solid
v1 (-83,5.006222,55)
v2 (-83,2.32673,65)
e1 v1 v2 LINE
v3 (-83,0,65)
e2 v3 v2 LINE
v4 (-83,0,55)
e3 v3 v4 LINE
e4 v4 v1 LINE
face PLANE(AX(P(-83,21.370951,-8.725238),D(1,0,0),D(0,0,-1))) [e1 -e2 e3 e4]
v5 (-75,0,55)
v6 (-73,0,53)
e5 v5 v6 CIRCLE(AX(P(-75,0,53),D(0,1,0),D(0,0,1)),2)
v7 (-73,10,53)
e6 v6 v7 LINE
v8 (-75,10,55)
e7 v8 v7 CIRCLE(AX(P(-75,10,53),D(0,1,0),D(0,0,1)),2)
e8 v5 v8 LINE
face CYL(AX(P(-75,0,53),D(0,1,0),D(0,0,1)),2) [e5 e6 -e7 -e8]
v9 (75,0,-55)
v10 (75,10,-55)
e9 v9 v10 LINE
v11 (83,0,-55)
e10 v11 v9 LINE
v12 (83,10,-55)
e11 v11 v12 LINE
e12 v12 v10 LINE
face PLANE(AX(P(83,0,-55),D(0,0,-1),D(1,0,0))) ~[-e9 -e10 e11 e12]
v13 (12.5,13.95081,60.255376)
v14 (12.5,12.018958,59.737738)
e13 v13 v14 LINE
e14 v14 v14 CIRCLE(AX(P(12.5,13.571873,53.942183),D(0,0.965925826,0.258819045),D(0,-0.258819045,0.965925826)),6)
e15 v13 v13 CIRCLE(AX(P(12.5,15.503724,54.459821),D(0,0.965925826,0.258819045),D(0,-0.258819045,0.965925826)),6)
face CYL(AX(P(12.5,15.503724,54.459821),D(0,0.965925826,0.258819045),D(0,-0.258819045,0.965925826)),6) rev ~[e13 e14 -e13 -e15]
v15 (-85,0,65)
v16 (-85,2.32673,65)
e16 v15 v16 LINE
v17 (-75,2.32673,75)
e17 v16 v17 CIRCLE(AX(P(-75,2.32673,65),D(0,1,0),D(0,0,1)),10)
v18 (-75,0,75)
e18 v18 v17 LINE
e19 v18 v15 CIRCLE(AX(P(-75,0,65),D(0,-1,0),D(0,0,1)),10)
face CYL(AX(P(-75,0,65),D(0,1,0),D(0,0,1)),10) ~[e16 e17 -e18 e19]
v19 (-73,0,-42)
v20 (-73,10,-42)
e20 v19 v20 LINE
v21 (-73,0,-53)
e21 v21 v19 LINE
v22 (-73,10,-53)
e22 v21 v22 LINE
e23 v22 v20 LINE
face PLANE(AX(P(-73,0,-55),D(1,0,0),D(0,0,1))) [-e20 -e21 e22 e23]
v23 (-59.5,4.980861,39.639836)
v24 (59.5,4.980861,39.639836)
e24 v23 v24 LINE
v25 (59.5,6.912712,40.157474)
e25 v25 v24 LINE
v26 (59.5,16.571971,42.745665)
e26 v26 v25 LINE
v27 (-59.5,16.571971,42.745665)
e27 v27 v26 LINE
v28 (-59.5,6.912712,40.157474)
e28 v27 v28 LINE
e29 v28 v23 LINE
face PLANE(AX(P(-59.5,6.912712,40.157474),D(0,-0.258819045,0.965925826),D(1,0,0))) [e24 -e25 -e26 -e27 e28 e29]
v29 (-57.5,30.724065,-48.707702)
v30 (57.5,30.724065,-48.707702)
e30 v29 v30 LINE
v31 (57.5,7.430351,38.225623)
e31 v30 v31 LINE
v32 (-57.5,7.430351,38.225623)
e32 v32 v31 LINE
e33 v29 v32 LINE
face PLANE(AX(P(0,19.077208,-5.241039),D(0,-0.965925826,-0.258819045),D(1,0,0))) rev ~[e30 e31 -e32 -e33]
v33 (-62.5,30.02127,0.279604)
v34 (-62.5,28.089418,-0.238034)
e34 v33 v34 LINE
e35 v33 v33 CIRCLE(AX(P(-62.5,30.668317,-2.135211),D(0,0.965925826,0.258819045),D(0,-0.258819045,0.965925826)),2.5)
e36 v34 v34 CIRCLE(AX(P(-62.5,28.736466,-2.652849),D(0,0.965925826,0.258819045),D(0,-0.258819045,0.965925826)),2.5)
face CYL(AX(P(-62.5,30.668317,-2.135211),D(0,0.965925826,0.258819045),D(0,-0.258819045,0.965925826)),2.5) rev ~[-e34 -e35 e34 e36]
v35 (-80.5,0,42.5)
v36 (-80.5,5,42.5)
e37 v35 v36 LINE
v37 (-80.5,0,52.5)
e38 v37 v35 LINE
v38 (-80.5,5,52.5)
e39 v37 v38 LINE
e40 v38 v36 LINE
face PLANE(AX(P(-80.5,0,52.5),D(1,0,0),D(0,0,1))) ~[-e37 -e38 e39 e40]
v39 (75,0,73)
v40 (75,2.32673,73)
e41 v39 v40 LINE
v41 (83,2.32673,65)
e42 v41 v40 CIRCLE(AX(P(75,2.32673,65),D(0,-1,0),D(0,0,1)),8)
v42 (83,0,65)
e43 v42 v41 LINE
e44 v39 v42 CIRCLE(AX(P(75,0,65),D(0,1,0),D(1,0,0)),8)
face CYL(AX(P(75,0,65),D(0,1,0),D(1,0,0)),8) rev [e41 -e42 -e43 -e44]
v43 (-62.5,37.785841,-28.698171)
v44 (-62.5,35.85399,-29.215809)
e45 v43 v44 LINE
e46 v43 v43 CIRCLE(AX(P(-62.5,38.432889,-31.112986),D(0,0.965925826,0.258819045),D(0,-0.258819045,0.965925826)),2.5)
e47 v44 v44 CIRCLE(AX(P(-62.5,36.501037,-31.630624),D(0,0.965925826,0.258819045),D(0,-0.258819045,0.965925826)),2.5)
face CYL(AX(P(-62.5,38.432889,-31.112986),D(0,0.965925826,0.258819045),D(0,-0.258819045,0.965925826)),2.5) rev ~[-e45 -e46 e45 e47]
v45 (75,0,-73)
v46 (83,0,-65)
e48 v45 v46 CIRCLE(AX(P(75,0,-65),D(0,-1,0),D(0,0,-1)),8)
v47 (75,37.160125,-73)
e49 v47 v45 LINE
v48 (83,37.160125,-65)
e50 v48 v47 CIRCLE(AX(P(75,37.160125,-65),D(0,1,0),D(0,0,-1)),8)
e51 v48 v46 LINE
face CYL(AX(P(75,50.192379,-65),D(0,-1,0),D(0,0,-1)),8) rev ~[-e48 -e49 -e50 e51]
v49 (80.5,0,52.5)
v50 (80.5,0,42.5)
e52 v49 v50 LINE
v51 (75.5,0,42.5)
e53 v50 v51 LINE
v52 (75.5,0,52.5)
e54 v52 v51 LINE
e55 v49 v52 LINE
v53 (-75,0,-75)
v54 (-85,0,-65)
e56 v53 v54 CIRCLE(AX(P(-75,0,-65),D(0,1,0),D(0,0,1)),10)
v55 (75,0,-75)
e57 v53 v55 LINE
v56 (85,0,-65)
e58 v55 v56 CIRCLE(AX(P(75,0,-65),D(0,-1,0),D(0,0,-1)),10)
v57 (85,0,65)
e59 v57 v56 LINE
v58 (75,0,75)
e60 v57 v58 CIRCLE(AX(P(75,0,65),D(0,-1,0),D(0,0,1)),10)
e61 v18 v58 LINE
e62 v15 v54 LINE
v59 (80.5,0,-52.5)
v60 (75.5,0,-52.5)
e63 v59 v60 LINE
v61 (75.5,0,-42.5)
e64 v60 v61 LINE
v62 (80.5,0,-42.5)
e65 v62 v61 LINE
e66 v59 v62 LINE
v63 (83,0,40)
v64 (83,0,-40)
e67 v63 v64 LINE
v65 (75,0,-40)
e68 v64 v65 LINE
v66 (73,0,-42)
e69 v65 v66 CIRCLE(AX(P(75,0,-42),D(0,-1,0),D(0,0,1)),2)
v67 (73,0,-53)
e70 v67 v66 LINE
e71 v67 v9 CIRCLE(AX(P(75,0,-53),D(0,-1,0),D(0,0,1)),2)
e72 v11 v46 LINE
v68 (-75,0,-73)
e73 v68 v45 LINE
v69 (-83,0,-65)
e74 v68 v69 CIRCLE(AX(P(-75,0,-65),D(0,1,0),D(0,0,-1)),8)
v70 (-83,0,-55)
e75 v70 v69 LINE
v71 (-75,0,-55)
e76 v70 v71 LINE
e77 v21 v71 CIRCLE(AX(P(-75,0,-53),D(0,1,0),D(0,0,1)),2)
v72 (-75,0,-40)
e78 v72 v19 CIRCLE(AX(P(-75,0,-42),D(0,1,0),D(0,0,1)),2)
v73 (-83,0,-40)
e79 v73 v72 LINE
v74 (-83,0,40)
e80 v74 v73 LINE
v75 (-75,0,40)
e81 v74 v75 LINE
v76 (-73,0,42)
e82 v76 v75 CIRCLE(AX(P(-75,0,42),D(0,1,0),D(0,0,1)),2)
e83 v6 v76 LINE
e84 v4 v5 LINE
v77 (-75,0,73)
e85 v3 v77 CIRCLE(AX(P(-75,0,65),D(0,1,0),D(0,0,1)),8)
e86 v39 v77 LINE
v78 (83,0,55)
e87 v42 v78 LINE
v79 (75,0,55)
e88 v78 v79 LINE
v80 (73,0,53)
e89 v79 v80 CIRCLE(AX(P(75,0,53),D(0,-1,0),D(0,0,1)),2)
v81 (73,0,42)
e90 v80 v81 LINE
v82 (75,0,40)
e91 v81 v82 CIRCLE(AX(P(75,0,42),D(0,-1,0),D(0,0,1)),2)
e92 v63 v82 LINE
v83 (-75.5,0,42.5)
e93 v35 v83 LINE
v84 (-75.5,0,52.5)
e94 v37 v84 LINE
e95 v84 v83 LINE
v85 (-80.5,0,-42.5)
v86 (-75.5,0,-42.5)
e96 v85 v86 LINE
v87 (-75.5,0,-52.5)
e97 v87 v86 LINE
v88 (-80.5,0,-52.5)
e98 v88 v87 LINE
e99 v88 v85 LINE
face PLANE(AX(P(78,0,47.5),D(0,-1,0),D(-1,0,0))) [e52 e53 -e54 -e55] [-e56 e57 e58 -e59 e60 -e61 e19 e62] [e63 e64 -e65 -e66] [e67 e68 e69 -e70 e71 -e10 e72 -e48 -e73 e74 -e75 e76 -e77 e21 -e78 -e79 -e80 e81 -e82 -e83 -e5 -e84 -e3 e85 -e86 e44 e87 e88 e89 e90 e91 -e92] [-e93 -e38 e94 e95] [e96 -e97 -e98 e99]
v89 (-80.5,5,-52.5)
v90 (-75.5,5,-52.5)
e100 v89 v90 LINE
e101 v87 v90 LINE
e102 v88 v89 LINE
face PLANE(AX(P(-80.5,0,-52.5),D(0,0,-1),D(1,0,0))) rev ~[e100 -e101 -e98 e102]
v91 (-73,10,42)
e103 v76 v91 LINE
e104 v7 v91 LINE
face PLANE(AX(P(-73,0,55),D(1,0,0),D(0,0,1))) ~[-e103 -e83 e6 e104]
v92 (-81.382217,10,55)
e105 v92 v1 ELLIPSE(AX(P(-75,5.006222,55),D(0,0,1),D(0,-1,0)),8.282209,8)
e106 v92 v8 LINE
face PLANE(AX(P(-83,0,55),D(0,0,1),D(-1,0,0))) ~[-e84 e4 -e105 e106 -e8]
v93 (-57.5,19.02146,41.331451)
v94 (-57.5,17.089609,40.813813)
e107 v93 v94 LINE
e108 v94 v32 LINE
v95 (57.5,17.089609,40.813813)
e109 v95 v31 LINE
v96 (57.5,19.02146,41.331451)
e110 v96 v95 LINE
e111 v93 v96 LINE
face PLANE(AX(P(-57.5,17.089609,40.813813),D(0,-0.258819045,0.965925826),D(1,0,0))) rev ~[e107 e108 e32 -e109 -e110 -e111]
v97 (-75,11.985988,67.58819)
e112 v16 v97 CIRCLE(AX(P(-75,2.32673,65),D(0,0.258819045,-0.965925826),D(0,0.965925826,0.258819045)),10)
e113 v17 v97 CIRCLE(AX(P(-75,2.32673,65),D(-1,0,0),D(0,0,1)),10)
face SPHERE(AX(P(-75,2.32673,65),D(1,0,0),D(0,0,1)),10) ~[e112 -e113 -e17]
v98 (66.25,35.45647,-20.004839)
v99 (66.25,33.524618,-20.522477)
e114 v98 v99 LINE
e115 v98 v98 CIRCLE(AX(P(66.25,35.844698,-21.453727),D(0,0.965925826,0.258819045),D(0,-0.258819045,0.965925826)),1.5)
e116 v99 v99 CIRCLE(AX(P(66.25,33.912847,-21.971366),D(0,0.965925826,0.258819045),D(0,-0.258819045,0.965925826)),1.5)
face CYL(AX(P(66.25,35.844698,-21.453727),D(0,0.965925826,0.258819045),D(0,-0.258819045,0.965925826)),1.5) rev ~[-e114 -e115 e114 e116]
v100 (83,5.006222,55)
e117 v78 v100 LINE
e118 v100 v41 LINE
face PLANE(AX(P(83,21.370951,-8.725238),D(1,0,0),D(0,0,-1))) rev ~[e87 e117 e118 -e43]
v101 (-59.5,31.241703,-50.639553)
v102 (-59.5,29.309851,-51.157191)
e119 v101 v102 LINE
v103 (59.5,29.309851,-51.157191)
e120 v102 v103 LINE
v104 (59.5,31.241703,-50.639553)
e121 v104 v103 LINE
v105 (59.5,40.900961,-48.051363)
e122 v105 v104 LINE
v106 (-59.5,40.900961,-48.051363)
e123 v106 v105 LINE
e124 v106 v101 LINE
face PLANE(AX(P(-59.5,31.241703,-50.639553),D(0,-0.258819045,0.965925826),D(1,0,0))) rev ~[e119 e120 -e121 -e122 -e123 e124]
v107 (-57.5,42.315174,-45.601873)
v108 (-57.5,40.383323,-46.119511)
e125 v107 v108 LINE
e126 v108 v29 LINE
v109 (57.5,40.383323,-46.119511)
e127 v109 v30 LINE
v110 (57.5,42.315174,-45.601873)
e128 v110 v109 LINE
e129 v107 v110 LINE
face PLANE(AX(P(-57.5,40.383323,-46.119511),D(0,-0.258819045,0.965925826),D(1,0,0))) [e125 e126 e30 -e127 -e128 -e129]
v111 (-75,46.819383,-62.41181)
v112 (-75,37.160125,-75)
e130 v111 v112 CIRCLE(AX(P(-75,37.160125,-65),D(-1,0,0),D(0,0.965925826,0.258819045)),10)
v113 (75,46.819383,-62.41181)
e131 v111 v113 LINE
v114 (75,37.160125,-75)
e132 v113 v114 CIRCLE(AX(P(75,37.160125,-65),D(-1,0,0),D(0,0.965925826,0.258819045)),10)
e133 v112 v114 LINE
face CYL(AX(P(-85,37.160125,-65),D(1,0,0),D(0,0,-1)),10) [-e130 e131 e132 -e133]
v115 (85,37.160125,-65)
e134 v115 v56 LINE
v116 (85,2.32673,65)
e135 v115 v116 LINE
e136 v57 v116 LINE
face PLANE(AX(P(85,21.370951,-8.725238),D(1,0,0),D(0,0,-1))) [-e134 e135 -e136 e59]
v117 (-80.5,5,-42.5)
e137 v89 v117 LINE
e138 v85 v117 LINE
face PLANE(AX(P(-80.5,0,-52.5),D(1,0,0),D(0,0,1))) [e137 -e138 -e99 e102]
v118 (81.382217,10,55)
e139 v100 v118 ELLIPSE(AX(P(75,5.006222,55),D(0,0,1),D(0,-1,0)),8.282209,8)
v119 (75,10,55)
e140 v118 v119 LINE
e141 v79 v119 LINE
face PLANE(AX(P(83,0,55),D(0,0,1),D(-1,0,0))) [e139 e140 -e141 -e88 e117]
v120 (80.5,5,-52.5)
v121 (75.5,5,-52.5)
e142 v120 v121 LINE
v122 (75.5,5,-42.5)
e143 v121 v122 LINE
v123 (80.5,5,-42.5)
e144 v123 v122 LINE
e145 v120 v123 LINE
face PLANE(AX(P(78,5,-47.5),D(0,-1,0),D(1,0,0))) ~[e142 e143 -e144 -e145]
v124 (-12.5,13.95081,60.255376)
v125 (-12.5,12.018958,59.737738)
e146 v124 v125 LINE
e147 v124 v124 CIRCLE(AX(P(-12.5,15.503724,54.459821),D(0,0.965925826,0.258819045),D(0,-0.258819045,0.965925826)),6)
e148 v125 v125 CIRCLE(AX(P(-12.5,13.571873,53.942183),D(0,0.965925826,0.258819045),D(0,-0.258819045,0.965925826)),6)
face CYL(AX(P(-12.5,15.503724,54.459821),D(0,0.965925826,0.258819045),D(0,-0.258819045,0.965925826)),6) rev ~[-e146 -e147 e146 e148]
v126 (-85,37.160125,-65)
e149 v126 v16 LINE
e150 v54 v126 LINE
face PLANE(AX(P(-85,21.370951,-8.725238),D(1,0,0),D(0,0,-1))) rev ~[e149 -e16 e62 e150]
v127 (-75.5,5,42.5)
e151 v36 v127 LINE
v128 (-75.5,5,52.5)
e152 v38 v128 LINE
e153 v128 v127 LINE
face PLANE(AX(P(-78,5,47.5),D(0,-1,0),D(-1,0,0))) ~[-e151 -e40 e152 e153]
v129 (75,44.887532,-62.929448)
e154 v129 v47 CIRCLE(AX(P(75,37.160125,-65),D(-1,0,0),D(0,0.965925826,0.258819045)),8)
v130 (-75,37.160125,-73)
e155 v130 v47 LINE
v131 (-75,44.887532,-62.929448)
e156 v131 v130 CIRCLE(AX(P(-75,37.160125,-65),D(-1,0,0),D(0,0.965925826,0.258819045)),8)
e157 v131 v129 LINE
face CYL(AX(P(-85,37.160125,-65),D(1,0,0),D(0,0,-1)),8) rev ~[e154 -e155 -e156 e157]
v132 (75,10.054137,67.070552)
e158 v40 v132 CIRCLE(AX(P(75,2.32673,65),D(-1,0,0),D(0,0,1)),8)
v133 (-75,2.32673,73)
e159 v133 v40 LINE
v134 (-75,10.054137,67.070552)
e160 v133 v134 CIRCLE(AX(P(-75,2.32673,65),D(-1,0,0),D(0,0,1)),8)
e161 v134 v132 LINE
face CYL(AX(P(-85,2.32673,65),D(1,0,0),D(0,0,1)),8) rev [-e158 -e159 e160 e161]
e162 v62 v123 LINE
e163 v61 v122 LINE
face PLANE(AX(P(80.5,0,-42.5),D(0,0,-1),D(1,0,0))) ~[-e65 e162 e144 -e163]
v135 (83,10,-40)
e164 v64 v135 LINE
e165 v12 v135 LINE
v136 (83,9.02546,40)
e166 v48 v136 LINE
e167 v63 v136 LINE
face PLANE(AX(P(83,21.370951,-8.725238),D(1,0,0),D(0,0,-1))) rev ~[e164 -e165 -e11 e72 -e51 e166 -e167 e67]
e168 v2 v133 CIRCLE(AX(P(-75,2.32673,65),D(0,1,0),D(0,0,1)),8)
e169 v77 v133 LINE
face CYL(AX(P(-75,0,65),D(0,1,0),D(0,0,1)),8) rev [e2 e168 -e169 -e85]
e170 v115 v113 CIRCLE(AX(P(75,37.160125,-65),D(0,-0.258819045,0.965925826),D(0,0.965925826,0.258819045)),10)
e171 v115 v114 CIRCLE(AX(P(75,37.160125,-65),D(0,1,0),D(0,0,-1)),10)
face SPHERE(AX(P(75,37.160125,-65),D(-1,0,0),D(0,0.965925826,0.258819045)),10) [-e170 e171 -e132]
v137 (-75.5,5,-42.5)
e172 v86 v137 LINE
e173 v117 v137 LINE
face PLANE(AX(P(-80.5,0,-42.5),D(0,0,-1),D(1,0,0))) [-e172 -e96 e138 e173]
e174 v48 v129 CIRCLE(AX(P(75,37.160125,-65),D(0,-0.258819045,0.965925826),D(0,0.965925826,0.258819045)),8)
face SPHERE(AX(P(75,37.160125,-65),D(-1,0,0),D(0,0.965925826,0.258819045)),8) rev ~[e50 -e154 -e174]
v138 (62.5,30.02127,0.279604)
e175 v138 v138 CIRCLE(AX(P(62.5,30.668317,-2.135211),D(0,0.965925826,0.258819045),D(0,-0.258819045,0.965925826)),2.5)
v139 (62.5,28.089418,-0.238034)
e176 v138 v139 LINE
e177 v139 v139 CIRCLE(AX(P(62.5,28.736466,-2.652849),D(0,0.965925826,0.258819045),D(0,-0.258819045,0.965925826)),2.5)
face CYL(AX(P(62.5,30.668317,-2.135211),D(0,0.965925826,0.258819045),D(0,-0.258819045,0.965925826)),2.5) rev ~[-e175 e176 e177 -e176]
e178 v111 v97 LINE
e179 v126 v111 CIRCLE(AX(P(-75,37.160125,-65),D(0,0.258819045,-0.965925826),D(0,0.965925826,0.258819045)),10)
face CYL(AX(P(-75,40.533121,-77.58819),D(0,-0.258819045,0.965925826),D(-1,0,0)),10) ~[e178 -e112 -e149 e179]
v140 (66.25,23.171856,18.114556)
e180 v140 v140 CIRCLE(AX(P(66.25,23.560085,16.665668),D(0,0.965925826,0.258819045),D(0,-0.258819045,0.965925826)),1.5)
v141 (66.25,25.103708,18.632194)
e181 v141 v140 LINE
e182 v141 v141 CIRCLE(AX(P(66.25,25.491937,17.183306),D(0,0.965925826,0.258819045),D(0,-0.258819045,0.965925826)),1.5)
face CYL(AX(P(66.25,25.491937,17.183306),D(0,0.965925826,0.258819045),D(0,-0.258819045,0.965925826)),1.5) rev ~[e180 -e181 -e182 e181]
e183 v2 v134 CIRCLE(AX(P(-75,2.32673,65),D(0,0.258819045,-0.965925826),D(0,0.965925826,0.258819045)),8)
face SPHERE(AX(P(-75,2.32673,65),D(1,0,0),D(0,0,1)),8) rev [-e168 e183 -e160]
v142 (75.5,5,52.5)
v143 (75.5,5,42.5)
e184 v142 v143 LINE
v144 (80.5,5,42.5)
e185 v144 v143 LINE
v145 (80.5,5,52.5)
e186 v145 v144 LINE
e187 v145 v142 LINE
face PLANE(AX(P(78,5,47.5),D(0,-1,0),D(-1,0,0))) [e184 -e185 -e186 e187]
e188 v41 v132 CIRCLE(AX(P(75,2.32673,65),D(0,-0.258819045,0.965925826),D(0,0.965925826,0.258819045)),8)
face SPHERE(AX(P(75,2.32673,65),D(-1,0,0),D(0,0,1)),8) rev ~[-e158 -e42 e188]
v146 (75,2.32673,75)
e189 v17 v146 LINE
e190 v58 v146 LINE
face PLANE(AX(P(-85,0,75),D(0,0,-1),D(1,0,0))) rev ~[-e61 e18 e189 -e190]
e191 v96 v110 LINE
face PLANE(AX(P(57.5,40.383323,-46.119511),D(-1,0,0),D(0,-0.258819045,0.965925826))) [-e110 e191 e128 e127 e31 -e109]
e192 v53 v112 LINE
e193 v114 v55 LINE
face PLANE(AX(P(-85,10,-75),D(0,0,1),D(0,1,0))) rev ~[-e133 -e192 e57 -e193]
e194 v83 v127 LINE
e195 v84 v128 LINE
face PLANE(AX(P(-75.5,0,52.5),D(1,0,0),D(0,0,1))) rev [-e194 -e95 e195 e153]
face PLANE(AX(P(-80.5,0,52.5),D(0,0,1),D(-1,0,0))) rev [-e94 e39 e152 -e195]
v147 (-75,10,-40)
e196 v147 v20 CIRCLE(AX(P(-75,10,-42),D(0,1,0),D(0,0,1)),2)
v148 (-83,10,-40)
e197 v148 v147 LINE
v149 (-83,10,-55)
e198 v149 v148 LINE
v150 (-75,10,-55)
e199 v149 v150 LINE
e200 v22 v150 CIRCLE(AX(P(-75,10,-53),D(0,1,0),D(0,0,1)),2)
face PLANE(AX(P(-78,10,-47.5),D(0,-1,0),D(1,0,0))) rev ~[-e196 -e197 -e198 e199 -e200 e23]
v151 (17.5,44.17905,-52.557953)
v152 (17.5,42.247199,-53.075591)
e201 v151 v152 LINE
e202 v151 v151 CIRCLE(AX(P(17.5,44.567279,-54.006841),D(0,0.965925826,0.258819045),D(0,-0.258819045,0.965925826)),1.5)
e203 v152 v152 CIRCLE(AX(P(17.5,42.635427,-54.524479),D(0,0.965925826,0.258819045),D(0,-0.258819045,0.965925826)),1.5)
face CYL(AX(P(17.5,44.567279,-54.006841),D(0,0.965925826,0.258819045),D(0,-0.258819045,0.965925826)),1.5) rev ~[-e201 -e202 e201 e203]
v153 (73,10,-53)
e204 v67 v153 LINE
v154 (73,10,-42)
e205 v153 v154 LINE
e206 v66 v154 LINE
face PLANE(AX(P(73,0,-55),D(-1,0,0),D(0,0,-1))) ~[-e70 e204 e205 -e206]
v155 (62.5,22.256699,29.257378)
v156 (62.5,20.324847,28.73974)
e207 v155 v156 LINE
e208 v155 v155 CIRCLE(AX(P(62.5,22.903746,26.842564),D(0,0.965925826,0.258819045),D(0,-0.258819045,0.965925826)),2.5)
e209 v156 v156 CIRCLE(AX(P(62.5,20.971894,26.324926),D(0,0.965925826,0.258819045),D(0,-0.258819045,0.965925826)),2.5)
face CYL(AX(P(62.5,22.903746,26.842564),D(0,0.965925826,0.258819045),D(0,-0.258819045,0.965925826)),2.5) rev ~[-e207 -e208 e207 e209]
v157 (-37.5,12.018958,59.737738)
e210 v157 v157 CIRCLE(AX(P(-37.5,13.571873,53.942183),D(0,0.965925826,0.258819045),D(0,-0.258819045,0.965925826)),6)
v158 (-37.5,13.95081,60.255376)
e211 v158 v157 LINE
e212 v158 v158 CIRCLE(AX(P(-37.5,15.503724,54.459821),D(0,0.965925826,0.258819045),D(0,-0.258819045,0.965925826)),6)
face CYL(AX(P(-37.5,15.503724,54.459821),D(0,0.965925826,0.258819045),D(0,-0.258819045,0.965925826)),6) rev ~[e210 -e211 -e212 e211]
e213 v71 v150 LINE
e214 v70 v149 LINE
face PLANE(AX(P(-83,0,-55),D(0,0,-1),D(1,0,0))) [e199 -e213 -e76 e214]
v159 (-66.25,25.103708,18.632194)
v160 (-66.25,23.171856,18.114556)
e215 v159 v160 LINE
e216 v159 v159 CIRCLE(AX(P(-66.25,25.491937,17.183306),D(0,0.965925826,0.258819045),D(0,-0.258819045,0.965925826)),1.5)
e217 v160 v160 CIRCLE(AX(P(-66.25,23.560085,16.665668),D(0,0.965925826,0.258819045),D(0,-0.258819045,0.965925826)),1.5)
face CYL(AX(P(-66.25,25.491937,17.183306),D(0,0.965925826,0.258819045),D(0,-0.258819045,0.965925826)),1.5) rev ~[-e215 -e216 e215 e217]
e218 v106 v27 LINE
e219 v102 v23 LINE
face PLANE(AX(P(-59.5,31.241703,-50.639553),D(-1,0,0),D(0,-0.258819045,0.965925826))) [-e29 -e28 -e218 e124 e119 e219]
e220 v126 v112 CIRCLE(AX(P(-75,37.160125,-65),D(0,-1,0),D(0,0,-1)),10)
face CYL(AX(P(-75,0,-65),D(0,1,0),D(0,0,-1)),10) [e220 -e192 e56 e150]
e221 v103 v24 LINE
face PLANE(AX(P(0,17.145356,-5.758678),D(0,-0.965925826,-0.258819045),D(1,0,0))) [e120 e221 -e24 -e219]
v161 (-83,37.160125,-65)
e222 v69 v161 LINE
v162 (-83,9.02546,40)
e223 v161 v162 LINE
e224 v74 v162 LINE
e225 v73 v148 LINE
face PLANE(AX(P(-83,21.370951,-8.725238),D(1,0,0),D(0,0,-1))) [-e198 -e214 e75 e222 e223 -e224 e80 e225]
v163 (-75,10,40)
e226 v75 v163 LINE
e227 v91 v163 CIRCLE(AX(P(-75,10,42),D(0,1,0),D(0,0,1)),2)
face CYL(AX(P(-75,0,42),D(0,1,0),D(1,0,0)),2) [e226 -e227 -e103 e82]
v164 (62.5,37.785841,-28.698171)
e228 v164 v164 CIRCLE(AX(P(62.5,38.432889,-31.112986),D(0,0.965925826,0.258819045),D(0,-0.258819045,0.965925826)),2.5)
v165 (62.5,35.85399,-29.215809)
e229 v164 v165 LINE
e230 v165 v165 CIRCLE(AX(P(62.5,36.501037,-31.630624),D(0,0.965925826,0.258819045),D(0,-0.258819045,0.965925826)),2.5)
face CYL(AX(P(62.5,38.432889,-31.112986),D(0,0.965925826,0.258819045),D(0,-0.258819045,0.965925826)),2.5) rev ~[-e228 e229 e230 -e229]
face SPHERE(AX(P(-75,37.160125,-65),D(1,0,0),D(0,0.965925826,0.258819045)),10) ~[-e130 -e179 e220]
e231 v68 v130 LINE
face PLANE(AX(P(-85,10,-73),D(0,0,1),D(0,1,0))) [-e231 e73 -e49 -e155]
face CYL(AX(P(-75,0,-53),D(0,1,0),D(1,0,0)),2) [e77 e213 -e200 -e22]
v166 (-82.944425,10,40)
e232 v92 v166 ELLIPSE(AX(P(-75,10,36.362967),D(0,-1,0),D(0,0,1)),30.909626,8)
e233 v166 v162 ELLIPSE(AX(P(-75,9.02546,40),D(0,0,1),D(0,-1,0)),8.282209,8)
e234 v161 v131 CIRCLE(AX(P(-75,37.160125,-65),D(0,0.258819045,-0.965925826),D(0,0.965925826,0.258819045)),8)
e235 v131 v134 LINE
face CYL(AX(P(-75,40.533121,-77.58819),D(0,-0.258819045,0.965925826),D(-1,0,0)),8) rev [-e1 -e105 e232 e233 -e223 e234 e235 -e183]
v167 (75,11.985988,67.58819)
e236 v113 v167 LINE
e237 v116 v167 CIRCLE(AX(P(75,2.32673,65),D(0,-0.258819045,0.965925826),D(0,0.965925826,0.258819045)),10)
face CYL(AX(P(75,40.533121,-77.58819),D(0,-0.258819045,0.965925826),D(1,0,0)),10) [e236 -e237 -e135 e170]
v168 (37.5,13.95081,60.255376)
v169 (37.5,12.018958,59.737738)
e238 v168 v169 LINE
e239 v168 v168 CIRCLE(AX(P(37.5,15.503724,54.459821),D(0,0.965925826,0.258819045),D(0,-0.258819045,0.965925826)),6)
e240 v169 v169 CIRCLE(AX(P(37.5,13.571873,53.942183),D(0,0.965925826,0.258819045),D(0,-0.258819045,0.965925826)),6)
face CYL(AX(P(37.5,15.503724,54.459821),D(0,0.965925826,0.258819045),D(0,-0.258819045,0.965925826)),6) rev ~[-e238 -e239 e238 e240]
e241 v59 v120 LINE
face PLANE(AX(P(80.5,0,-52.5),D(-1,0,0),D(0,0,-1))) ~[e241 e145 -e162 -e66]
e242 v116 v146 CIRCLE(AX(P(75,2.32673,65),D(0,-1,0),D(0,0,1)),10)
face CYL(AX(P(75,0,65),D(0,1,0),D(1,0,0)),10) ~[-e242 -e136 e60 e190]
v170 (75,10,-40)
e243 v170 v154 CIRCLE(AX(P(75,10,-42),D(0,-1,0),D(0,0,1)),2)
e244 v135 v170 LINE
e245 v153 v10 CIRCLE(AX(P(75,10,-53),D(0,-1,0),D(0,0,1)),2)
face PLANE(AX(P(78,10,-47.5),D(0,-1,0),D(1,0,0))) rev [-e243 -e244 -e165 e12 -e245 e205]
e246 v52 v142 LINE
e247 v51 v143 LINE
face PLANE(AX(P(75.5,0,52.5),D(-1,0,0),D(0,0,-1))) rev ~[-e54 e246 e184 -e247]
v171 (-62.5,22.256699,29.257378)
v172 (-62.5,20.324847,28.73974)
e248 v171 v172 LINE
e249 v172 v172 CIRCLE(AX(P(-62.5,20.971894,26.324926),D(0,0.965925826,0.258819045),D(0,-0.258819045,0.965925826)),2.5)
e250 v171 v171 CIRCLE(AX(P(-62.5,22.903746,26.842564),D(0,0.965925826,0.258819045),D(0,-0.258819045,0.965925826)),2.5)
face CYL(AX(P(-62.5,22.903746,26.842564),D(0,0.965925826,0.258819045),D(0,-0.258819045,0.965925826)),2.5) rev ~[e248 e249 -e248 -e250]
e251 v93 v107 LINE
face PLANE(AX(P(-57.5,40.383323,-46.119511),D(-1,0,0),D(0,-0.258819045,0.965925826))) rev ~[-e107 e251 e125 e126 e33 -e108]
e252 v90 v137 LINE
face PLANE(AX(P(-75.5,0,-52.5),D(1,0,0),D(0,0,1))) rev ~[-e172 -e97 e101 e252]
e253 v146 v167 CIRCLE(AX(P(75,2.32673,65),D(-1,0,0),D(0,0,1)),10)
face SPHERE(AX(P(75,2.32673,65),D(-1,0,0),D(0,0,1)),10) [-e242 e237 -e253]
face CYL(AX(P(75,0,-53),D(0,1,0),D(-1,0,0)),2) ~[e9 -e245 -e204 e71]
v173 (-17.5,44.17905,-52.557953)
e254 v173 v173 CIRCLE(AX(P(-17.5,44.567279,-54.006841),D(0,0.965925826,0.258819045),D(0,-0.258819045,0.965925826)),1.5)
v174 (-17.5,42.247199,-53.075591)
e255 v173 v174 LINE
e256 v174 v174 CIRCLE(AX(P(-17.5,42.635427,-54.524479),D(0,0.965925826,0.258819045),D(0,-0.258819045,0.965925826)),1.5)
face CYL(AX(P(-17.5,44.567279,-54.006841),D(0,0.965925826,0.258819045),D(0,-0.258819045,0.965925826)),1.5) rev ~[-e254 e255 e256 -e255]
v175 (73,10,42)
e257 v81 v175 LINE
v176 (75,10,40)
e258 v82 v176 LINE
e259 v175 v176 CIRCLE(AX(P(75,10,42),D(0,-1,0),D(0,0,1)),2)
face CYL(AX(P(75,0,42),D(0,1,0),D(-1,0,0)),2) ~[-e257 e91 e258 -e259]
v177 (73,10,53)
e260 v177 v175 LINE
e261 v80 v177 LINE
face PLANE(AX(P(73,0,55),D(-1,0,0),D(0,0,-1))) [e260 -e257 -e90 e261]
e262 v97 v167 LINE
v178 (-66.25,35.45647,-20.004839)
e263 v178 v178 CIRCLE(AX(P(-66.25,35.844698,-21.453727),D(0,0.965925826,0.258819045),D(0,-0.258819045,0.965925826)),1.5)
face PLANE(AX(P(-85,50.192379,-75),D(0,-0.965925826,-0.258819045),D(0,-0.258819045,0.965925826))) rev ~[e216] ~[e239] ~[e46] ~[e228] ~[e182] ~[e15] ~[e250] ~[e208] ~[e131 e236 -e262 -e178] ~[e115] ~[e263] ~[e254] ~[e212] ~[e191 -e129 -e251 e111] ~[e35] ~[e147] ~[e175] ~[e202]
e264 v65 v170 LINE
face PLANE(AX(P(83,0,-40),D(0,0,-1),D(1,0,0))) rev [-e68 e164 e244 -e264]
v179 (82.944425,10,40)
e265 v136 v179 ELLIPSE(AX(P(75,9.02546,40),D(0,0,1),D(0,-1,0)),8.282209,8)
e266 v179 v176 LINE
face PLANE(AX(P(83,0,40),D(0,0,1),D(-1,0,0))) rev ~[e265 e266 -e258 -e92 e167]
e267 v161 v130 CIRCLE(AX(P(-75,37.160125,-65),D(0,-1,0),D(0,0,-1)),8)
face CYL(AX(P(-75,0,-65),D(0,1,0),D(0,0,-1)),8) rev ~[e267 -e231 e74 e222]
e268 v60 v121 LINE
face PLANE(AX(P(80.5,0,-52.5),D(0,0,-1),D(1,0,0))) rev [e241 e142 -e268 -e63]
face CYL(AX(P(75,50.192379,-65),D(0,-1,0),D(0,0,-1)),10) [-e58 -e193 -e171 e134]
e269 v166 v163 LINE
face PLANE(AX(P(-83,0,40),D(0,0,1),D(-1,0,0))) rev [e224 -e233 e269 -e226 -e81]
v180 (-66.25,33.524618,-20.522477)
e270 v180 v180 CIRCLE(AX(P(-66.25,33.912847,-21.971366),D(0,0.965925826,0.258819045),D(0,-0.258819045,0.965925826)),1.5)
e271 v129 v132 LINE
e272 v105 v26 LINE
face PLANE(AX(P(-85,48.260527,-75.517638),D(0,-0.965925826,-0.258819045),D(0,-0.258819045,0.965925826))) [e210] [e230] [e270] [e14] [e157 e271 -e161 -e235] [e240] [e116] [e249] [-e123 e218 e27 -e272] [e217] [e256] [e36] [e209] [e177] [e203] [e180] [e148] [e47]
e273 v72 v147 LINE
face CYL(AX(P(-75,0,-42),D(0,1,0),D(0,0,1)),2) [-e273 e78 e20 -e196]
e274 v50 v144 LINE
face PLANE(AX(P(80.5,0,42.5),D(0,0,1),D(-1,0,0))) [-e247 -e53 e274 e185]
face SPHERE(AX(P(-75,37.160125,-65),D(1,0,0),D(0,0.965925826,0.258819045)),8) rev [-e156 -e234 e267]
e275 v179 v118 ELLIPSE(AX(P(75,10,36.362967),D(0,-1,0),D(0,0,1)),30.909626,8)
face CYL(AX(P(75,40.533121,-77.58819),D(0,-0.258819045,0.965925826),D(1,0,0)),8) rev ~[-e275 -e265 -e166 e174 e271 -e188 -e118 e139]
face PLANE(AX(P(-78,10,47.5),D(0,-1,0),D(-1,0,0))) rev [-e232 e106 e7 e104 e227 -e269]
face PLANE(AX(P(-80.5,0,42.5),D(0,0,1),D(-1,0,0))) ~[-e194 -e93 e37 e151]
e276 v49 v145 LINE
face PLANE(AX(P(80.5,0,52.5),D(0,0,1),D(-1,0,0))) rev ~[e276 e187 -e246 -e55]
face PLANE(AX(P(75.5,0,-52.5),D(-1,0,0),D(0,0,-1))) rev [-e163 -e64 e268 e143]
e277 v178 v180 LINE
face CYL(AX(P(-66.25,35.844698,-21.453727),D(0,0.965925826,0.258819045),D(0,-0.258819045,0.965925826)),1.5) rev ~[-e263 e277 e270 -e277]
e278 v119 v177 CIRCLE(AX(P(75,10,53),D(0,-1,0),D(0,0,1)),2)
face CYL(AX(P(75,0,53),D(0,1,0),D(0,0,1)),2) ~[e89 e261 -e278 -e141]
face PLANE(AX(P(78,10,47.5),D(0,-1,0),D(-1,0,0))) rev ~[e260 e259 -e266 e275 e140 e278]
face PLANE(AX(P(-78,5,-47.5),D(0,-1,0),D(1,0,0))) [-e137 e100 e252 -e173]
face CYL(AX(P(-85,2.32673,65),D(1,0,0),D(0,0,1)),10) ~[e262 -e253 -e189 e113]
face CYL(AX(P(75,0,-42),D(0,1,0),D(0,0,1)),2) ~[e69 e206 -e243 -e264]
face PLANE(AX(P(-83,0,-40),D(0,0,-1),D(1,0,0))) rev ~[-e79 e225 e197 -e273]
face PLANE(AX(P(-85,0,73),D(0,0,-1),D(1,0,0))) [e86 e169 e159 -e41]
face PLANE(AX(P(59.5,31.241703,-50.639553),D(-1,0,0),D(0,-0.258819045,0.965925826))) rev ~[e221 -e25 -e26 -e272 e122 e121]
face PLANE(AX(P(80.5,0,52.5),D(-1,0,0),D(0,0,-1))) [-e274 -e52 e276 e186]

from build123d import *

# Parameters (mm, degrees)
SKETCH1_W                                  = 170
SKETCH1_H                                  = 150
BOSS_EXTRUDE1_DEPTH                        = 10
BOSS_EXTRUDE2_DEPTH                        = 170
FILLET1_R                                  = 10
SHELL1_T                                   = -2
SKETCH3_W                                  = 115
SKETCH3_H                                  = 90
CUT_EXTRUDE1_DEPTH                         = 2
SKETCH4_W                                  = 119
SKETCH4_H                                  = 94
SKETCH4_W_2                                = 115
SKETCH4_H_2                                = 90
BOSS_EXTRUDE3_DEPTH                        = 10
SKETCH5_W                                  = 119
SKETCH5_H                                  = 94
BOSS_EXTRUDE4_DEPTH                        = 2
SKETCH6_R                                  = 2.5
CUT_EXTRUDE2_DEPTH                         = 2
SKETCH7_R                                  = 6
CUT_EXTRUDE3_DEPTH                         = 2
SKETCH9_W                                  = 10
SKETCH9_H                                  = 15
BOSS_EXTRUDE5_DEPTH                        = 10
SKETCH10_W                                 = 5
SKETCH10_H                                 = 10
CUT_EXTRUDE4_DEPTH                         = 5
MIRROR1_AT_THE_SECOND_PLANE_COPY_1_SKETC_W = 10
MIRROR1_AT_THE_SECOND_PLANE_COPY_1_SKETC_H = 15
MIRROR1_AT_THE_SECOND_PLANE_COPY_1_DEPTH   = 10
MIRROR1_AT_THE_SECOND_PLANE_COPY_2_SKETC_W = 5
MIRROR1_AT_THE_SECOND_PLANE_COPY_2_SKETC_H = 10
MIRROR1_AT_THE_SECOND_PLANE_COPY_2_DEPTH   = 5
FILLET2_R                                  = 2
SKETCH11_R                                 = 1.5
CUT_EXTRUDE5_DEPTH                         = 2


with BuildPart() as part:
    # Sketch1 → Boss-Extrude1 (new body)
    with BuildSketch(Plane(origin=(0, 0, 0), x_dir=(1, 0, 0), z_dir=(0, 1, 0))):
        Rectangle(SKETCH1_W, SKETCH1_H)
    extrude(amount=BOSS_EXTRUDE1_DEPTH)

    # Sketch2 → Boss-Extrude2 (add)
    with BuildSketch(Plane.ZY.offset(85)):
        Polygon((-75, 10), (-75, 50.192378865), (75, 10), align=None)
    extrude(amount=-BOSS_EXTRUDE2_DEPTH)

    # Fillet1
    fillet1_edges = [part.edges().sort_by_distance(p)[0] for p in [
        (0, 50.192378865, -75),
        (-85, 30.096189432, 0),
        (85, 30.096189432, 0),
        (0, 10, 75),
        (85, 5, 75),
        (-85, 5, 75),
        (-85, 25.096189432, -75),
        (85, 25.096189432, -75),
    ]]
    fillet(fillet1_edges, radius=FILLET1_R)

    # Shell1
    shell1_openings = [part.faces().sort_by_distance(p)[0] for p in [
        (0, 0, 0),
    ]]
    offset(amount=SHELL1_T, openings=shell1_openings, kind=Kind.INTERSECTION)

    # Sketch3 → Cut-Extrude1 (cut)
    with BuildSketch(Plane(origin=(0, 28.080127019, 7.524047358), x_dir=(1, 0, 0), z_dir=(0, 0.96592582628907, 0.25881904510251436))):
        with Locations((0, 10)):
            Rectangle(SKETCH3_W, SKETCH3_H)
    extrude(amount=-CUT_EXTRUDE1_DEPTH, mode=Mode.SUBTRACT)

    # Sketch4 → Boss-Extrude3 (add)
    with BuildSketch(Plane(origin=(0, 26.148275366, 7.006409268), x_dir=(1, 0, 0), z_dir=(0, -0.96592582628907, -0.25881904510251436))):
        with Locations((0, -10)):
            Rectangle(SKETCH4_W, SKETCH4_H)
        with Locations((0, -10)):
            Rectangle(SKETCH4_W_2, SKETCH4_H_2, mode=Mode.SUBTRACT)
    extrude(amount=BOSS_EXTRUDE3_DEPTH)

    # Sketch5 → Boss-Extrude4 (add)
    with BuildSketch(Plane(origin=(0, 16.489017103, 4.418218817), x_dir=(1, 0, 0), z_dir=(0, -0.96592582628907, -0.25881904510251436))):
        with Locations((0, -10)):
            Rectangle(SKETCH5_W, SKETCH5_H)
    extrude(amount=BOSS_EXTRUDE4_DEPTH)

    # Sketch6 → Cut-Extrude2 (cut)
    with BuildSketch(Plane(origin=(0, 28.080127019, 7.524047358), x_dir=(1, 0, 0), z_dir=(0, 0.96592582628907, 0.25881904510251436))):
        with Locations(Location((-62.5, 10, 0), (0, 0, 270))):
            Circle(SKETCH6_R)
        with Locations(Location((-62.5, 40, 0), (0, 0, 270))):
            Circle(SKETCH6_R)
        with Locations(Location((-62.5, -20, 0), (0, 0, 270))):
            Circle(SKETCH6_R)
        with Locations(Location((62.5, -20, 0), (0, 0, 270))):
            Circle(SKETCH6_R)
        with Locations(Location((62.5, 40, 0), (0, 0, 270))):
            Circle(SKETCH6_R)
        with Locations(Location((62.5, 10, 0), (0, 0, 270))):
            Circle(SKETCH6_R)
    extrude(amount=-CUT_EXTRUDE2_DEPTH, mode=Mode.SUBTRACT)

    # Sketch7 → Cut-Extrude3 (cut)
    with BuildSketch(Plane(origin=(0, 28.080127019, 7.524047358), x_dir=(1, 0, 0), z_dir=(0, 0.96592582628907, 0.25881904510251436))):
        with Locations(Location((-12.5, -48.59148832, 0), (0, 0, 270))):
            Circle(SKETCH7_R)
        with Locations(Location((12.5, -48.59148832, 0), (0, 0, 270))):
            Circle(SKETCH7_R)
        with Locations(Location((37.5, -48.59148832, 0), (0, 0, 270))):
            Circle(SKETCH7_R)
        with Locations(Location((-37.5, -48.59148832, 0), (0, 0, 270))):
            Circle(SKETCH7_R)
    extrude(amount=-CUT_EXTRUDE3_DEPTH, mode=Mode.SUBTRACT)

    # Sketch9 → Boss-Extrude5 (add)
    with BuildSketch(Plane.XZ):
        with Locations((-78, -47.5)):
            Rectangle(SKETCH9_W, SKETCH9_H)
    boss_extrude5 = extrude(amount=-BOSS_EXTRUDE5_DEPTH)

    # Sketch10 → Cut-Extrude4 (cut)
    with BuildSketch(Plane.XZ):
        with Locations((-78, -47.5)):
            Rectangle(SKETCH10_W, SKETCH10_H)
    cut_extrude4 = extrude(amount=-CUT_EXTRUDE4_DEPTH, mode=Mode.SUBTRACT)

    # Mirror1: Boss-Extrude5, Cut-Extrude4 across plane
    add(boss_extrude5.mirror(Plane(origin=(0, 0, 0), x_dir=(0, 0, 1), z_dir=(1, 0, 0))))
    add(cut_extrude4.mirror(Plane(origin=(0, 0, 0), x_dir=(0, 0, 1), z_dir=(1, 0, 0))), mode=Mode.SUBTRACT)

    # Mirror1 at the second plane: Boss-Extrude5, Cut-Extrude4 across plane
    add(boss_extrude5.mirror(Plane.XY))
    add(cut_extrude4.mirror(Plane.XY), mode=Mode.SUBTRACT)

    # Mirror1 at the second plane copy 1 sketc → Mirror1 at the second plane copy 1 (add)
    with BuildSketch(Plane(origin=(0, 0, 0), x_dir=(-1, 0, 0), z_dir=(0, -1, 0))):
        with Locations((-78, -47.5)):
            Rectangle(MIRROR1_AT_THE_SECOND_PLANE_COPY_1_SKETC_W, MIRROR1_AT_THE_SECOND_PLANE_COPY_1_SKETC_H)
    extrude(amount=-MIRROR1_AT_THE_SECOND_PLANE_COPY_1_DEPTH)

    # Mirror1 at the second plane copy 2 sketc → Mirror1 at the second plane copy 2 (cut)
    with BuildSketch(Plane(origin=(0, 0, 0), x_dir=(-1, 0, 0), z_dir=(0, -1, 0))):
        with Locations((-78, -47.5)):
            Rectangle(MIRROR1_AT_THE_SECOND_PLANE_COPY_2_SKETC_W, MIRROR1_AT_THE_SECOND_PLANE_COPY_2_SKETC_H)
    extrude(amount=-MIRROR1_AT_THE_SECOND_PLANE_COPY_2_DEPTH, mode=Mode.SUBTRACT)

    # Fillet2
    fillet2_edges = [part.edges().sort_by_distance(p)[0] for p in [
        (-73, 5, -40),
        (-73, 5, -55),
        (-73, 5, 40),
        (-73, 5, 55),
        (73, 5, -55),
        (73, 5, -40),
        (73, 5, 55),
        (73, 5, 40),
    ]]
    fillet(fillet2_edges, radius=FILLET2_R)

    # Sketch11 → Cut-Extrude5 (cut)
    with BuildSketch(Plane(origin=(0, 28.080127019, 7.524047358), x_dir=(1, 0, 0), z_dir=(0, 0.96592582628907, 0.25881904510251436))):
        with Locations(Location((-17.5, 63.701463406, 0), (0, 0, 270))):
            Circle(SKETCH11_R)
        with Locations(Location((17.5, 63.701463406, 0), (0, 0, 270))):
            Circle(SKETCH11_R)
        with Locations(Location((-66.25, -10, 0), (0, 0, 270))):
            Circle(SKETCH11_R)
        with Locations(Location((66.25, -10, 0), (0, 0, 270))):
            Circle(SKETCH11_R)
        with Locations(Location((-66.25, 30, 0), (0, 0, 270))):
            Circle(SKETCH11_R)
        with Locations(Location((66.25, 30, 0), (0, 0, 270))):
            Circle(SKETCH11_R)
    extrude(amount=-CUT_EXTRUDE5_DEPTH, mode=Mode.SUBTRACT)


solid = part.part
